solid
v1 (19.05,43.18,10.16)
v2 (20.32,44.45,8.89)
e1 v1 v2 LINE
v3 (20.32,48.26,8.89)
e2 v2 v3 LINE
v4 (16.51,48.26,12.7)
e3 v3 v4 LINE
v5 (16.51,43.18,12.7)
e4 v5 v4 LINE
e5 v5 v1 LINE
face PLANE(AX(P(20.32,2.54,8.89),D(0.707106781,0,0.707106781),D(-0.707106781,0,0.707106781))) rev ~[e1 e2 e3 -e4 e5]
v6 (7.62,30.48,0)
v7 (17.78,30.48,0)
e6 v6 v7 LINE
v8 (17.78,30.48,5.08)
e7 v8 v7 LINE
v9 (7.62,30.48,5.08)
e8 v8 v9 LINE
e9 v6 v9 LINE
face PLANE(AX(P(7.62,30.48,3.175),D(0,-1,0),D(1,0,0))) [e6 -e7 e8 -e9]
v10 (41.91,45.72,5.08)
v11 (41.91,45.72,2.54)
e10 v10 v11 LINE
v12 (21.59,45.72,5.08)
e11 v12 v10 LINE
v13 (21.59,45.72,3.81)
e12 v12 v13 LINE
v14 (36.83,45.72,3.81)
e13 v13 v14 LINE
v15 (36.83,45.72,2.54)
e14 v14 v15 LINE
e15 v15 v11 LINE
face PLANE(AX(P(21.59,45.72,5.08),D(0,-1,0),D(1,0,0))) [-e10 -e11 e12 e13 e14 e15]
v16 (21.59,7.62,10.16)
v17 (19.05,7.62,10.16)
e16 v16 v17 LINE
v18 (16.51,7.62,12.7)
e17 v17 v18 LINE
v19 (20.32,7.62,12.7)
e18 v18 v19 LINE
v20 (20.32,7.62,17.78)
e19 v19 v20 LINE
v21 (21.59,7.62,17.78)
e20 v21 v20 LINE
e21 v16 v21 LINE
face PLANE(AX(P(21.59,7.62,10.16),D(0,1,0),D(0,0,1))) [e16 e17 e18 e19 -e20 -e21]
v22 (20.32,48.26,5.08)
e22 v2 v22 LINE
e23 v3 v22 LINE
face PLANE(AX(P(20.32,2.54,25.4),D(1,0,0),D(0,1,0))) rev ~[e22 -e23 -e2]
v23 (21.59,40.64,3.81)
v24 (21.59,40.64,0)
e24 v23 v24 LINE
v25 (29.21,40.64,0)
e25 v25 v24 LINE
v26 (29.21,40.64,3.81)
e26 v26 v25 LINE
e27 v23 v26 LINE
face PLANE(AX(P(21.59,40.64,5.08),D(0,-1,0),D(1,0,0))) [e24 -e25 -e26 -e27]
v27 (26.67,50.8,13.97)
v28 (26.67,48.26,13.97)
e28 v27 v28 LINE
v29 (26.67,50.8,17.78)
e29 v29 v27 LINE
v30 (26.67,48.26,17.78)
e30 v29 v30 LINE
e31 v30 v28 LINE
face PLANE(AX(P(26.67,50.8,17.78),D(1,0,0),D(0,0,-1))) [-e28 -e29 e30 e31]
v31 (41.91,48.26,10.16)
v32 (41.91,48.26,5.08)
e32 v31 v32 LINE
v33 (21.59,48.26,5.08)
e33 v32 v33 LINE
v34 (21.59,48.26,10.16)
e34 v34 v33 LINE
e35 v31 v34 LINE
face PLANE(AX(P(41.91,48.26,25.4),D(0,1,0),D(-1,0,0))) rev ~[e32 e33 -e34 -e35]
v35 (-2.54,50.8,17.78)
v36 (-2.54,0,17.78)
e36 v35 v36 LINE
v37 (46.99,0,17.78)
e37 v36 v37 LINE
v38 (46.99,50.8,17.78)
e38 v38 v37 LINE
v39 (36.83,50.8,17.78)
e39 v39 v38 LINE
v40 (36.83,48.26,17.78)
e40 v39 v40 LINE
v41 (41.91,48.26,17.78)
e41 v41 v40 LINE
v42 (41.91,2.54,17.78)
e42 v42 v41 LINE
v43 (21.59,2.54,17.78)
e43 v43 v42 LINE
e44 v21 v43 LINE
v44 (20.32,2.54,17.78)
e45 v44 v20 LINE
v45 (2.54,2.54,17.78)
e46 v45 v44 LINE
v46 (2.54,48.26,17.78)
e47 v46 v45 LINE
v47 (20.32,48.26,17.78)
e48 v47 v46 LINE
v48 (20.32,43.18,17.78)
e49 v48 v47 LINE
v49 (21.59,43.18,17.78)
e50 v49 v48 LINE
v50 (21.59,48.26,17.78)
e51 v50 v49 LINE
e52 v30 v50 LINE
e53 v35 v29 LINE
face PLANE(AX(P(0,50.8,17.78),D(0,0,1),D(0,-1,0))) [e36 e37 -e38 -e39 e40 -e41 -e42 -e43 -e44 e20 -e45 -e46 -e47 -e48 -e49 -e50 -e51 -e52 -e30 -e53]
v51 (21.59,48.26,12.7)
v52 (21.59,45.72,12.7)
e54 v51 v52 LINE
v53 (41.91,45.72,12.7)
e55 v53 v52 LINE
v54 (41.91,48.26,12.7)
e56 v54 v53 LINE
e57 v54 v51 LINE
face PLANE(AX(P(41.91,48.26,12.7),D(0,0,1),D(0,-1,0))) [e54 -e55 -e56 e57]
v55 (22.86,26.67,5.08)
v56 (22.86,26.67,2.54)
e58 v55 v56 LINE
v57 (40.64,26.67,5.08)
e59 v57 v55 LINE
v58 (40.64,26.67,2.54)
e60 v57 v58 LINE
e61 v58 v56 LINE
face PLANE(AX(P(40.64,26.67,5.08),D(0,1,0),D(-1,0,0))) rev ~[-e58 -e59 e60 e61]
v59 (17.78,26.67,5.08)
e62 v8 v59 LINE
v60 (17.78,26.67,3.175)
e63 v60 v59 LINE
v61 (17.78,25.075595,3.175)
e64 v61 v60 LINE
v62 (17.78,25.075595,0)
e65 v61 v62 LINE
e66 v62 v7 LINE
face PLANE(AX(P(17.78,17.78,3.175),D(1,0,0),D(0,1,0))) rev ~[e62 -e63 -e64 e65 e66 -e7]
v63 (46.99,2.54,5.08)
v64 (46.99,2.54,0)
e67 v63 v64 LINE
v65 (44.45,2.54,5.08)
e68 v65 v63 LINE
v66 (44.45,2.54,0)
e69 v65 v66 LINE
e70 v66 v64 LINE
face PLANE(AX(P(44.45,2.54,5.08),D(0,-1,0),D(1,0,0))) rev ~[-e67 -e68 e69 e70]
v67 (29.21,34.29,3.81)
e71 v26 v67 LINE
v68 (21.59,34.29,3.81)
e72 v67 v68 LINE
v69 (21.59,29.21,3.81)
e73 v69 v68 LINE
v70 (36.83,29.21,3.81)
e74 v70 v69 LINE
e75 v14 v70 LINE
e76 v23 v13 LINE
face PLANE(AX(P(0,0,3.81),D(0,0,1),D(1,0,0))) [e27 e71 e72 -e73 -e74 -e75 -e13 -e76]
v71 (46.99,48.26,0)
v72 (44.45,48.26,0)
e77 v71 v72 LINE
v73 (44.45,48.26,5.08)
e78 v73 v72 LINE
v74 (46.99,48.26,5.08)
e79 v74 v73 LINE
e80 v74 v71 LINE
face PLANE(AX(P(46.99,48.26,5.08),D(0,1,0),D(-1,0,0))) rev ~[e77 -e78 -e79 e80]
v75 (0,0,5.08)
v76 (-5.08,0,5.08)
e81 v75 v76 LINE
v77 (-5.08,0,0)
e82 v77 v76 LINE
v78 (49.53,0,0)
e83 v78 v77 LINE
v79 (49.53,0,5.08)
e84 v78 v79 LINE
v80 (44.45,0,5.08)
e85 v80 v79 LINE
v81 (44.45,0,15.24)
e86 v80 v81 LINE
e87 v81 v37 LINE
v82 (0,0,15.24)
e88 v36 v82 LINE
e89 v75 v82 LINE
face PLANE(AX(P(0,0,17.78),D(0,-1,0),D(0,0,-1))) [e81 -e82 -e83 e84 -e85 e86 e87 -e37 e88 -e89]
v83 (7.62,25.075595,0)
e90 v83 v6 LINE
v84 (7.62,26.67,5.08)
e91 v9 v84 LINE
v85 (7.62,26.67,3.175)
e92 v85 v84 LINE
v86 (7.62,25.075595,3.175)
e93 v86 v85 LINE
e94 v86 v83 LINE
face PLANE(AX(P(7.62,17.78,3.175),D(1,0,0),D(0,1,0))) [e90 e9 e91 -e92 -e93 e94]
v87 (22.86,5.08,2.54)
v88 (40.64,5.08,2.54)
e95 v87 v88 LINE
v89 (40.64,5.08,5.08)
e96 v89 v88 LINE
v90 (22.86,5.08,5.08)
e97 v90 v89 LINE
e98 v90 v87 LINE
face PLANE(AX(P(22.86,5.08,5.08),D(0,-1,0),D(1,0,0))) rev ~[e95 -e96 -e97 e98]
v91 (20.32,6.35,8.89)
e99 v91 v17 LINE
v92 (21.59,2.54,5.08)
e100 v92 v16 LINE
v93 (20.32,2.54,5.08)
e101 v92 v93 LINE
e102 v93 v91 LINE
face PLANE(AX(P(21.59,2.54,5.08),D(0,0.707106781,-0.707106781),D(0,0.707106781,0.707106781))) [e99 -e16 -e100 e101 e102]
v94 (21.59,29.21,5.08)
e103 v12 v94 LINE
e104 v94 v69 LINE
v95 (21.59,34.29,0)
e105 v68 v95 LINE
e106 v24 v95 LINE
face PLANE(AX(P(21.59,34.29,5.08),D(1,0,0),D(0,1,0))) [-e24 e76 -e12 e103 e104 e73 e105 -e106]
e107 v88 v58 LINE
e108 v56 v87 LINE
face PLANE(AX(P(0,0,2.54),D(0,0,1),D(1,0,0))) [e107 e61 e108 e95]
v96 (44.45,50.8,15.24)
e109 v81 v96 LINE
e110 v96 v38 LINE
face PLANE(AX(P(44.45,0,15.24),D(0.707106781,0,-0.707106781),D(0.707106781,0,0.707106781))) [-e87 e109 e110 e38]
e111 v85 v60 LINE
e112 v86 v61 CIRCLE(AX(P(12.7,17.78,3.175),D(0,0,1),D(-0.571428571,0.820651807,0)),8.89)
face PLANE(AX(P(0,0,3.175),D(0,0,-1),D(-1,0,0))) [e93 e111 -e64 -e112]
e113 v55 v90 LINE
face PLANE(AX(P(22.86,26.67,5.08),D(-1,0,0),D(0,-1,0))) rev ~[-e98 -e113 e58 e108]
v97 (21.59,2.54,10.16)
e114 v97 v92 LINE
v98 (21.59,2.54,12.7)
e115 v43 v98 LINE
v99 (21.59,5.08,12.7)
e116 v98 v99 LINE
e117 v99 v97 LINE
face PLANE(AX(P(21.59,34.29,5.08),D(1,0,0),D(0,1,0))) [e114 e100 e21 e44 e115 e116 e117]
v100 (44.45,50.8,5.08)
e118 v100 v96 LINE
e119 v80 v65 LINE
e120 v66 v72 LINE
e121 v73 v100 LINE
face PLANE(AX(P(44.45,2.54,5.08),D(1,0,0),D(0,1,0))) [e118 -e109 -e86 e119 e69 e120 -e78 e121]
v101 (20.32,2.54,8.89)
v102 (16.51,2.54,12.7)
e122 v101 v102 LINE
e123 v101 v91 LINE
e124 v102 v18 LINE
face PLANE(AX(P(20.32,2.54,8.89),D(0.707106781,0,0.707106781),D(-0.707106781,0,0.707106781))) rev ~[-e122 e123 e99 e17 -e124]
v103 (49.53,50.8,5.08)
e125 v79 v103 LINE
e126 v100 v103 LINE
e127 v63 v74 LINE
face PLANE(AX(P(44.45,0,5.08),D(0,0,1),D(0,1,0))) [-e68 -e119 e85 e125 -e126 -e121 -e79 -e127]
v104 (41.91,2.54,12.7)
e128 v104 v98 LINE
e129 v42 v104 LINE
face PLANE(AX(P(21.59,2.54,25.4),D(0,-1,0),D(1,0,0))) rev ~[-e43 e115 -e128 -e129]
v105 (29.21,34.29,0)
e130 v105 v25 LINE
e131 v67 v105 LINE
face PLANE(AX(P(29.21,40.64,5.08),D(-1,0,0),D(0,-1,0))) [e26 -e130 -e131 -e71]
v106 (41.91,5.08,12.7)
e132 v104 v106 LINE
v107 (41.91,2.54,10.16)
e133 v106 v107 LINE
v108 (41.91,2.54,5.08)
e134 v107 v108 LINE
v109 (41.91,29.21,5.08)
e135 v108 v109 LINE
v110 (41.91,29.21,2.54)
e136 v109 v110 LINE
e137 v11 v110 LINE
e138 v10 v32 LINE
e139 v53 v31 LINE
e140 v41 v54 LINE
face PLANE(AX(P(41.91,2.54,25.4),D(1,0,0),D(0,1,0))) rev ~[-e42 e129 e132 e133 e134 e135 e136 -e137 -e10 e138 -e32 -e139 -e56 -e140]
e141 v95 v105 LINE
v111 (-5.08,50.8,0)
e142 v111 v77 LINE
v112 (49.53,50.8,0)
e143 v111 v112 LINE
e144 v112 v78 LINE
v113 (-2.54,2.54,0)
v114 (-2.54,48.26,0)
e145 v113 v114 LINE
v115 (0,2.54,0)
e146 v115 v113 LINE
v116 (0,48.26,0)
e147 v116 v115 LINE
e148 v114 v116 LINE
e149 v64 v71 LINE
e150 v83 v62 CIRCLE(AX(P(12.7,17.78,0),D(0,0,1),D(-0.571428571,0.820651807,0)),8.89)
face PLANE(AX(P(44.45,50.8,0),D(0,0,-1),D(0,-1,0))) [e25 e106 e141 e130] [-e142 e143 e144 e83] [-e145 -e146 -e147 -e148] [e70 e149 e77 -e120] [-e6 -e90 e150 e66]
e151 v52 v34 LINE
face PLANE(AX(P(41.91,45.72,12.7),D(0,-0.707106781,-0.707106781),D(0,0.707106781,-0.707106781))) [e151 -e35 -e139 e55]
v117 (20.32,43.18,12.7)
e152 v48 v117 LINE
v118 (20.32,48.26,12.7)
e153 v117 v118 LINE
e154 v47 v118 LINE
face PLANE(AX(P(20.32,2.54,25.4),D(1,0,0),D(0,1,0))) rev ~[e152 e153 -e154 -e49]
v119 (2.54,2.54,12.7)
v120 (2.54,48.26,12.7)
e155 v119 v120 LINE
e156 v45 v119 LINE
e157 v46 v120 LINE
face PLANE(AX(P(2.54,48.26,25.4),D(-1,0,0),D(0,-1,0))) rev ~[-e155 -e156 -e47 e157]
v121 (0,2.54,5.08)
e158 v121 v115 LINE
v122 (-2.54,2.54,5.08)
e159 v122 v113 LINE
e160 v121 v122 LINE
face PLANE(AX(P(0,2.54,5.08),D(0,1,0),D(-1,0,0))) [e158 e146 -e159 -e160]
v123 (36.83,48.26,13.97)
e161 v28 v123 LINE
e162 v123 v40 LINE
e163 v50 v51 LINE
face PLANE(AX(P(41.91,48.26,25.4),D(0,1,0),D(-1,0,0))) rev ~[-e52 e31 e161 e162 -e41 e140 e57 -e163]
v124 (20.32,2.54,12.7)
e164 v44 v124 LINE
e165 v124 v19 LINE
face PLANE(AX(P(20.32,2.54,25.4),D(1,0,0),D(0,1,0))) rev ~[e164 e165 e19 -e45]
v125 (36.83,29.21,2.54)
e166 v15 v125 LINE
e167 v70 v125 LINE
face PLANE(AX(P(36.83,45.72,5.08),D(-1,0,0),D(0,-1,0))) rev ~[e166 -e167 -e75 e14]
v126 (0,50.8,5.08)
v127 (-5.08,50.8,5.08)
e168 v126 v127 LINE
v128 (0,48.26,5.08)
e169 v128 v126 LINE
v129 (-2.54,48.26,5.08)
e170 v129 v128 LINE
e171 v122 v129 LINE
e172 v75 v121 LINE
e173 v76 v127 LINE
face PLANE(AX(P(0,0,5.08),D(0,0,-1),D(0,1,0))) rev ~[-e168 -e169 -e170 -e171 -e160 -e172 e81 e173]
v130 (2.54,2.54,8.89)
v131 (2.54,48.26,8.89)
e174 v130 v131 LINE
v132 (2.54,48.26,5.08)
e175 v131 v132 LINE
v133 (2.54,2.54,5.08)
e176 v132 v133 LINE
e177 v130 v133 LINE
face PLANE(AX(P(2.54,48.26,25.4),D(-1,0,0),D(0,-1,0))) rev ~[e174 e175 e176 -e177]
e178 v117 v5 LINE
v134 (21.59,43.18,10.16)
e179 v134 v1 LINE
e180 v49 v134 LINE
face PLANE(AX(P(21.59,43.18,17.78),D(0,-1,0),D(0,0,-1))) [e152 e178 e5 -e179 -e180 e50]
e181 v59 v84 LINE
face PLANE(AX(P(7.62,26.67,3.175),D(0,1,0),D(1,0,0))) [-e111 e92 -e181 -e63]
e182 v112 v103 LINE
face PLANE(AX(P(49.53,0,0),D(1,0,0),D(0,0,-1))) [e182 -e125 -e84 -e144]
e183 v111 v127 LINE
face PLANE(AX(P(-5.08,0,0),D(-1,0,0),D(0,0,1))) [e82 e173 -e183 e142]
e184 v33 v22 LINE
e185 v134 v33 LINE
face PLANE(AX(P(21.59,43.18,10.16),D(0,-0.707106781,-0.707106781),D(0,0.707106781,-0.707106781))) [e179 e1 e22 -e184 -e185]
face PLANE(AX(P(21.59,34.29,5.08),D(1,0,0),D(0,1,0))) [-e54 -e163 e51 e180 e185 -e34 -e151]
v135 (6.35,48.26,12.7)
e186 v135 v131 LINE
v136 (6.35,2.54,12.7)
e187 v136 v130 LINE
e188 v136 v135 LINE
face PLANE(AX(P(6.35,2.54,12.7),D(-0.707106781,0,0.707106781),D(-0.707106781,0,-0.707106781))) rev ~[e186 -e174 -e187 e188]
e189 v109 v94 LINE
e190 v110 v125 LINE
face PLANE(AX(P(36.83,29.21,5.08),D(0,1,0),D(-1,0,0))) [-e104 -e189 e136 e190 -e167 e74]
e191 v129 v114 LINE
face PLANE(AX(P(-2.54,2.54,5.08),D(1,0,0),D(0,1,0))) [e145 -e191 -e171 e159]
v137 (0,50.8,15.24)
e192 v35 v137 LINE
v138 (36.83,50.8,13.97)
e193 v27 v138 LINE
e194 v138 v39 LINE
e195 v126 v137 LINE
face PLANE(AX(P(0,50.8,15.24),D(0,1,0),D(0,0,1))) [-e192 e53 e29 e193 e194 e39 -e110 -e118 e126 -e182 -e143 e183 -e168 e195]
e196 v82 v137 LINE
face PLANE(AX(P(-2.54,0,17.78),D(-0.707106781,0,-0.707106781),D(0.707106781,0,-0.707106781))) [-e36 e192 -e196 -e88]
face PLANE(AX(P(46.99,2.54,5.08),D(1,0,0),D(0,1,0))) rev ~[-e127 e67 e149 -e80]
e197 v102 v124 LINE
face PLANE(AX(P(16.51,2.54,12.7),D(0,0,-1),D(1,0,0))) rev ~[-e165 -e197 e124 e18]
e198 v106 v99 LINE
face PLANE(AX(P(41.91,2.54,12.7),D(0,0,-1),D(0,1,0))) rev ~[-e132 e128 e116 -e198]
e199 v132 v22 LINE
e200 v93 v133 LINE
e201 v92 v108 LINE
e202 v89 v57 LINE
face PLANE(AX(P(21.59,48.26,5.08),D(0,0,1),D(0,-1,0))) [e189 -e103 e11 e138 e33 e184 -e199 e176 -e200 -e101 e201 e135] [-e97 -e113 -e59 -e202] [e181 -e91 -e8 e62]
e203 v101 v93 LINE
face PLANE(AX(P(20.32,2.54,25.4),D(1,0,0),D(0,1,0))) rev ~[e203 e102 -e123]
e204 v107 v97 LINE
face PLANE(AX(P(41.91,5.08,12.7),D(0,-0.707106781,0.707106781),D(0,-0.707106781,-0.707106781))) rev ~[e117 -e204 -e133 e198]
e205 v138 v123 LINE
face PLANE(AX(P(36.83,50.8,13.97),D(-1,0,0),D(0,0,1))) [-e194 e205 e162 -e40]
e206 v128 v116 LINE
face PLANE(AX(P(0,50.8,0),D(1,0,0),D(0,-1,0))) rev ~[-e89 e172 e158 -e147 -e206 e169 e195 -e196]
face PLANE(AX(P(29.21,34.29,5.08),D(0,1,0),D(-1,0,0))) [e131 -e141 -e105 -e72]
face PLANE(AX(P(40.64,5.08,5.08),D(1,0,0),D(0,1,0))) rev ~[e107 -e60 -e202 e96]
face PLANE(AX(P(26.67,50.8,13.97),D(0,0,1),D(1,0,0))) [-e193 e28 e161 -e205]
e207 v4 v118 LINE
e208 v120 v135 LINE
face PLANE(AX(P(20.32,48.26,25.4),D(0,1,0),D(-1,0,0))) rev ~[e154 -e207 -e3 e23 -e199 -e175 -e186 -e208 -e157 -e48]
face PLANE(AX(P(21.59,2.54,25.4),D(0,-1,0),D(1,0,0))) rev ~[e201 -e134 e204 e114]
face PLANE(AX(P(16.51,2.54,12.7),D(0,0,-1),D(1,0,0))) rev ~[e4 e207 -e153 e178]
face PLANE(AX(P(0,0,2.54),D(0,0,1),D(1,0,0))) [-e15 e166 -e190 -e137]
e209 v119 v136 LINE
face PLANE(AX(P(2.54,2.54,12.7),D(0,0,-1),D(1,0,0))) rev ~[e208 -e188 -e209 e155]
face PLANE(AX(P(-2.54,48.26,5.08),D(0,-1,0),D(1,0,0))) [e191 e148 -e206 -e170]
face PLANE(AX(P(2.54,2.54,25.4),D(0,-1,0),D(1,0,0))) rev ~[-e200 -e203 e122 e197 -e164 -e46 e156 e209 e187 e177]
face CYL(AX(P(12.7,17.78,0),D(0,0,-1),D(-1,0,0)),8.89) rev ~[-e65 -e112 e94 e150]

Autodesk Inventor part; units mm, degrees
ref_plane "YZ Plane" through (0, 0, 0) normal (1, 0, 0) x (0, 1, 0)
ref_plane "XZ Plane" through (0, 0, 0) normal (0, 1, 0) x (-1, 0, 0)
ref_plane "XY Plane" through (0, 0, 0) normal (0, 0, 1) x (1, 0, 0)
sketch "Sketch2" plane through (0, 0, 0) normal (0, 0, 1) x (1, 0, 0)
  line L0 (0, 0) -> (44.45, 0)
  line L1 (44.45, 0) -> (44.45, 50.8)
  line L2 (44.45, 50.8) -> (0, 50.8)
  line L3 (0, 50.8) -> (0, 0)
  dimension "d0" = 50.8
  dimension "d1" = 44.45
extrude "Extrusion1" add sketch "Sketch2" along normal blind 25.4
sketch "Sketch3" plane through (0, 0, 25.4) normal (0, 0, 1) x (1, 0, 0)
  line L0 (2.54, 2.54) -> (20.32, 2.54)
  line L1 (20.32, 2.54) -> (20.32, 48.26)
  line L2 (20.32, 48.26) -> (2.54, 48.26)
  line L3 (2.54, 48.26) -> (2.54, 2.54)
  line L4 (0, 0) -> (44.45, 0) projected
  line L5 (0, 50.8) -> (0, 0) projected
  line L6 (44.45, 50.8) -> (0, 50.8) projected
  line L7 (21.59, 2.54) -> (41.91, 2.54)
  line L8 (41.91, 2.54) -> (41.91, 48.26)
  line L9 (41.91, 48.26) -> (21.59, 48.26)
  line L10 (21.59, 48.26) -> (21.59, 2.54)
  line L11 (44.45, 0) -> (44.45, 50.8) projected
  dimension "d4" = 2.54
  dimension "d5" = 2.54
  dimension "d6" = 2.54
  dimension "d7" = 20.32
  dimension "d8" = 2.54
  dimension "d9" = 2.54
  dimension "d10" = 2.54
  dimension "d11" = 22.86
extrude "Extrusion2" cut sketch "Sketch3" against normal blind 20.32 contours L3 L2 L1 L0 | L10 L9 L8 L7
sketch "Sketch4" plane through (0, 0, 0) normal (0, 0, -1) x (-1, 0, 0)
  circle A0 centre (-12.7, 17.78) radius 8.89
  line L0 (0, 50.8) -> (0, 0) projected
  line L1 (0, 0) -> (-44.45, 0) projected
  dimension "d14" = 17.78
  dimension "d17" = 12.7
  dimension "d18" = 17.78
extrude "Extrusion3" cut sketch "Sketch4" against normal blind 3.175
sketch "Sketch5" plane through (0, 0, 0) normal (0, 0, -1) x (-1, 0, 0)
  point P0 (0, 0)
sketch "Sketch6" plane through (12.7, 17.78, 3.175) normal (0, 0, -1) x (-1, 0, 0)
  circle A0 centre (0, 0) radius 8.89 projected
  line L0 (0, 0) -> (-5.08, 0)
  line L1 (-5.08, 0) -> (-5.08, 12.7)
  line L2 (-5.08, 12.7) -> (0, 12.7)
  line L3 (0, 12.7) -> (0, 0)
  line L4 (0, 0) -> (5.08, 0)
  line L5 (5.08, 0) -> (5.08, 12.7)
  line L6 (5.08, 12.7) -> (0, 12.7)
  line L7 (0, 12.7) -> (0, 0)
  point P0 (12.7, -17.78)
  dimension "d21" = 12.7
  dimension "d22" = 5.08
  dimension "d23" = 5.08
extrude "Extrusion4" cut sketch "Sketch6" along normal blind 5.08 contours L5 L4 L3 A0 | A0 L3 L6 L5 | L1 L2 L3 A0 | A0 L3 L0 L1
sketch "Sketch7" plane through (0, 0, 3.175) normal (0, 0, -1) x (-1, 0, 0)
  point P0 (0, 0)
sketch "Sketch8" plane through (0, 0, 3.175) normal (0, 0, -1) x (-1, 0, 0)
  line L0 (-7.62, 25.0756) -> (-7.62, 30.48) projected
  line L1 (-17.78, 30.48) -> (-7.62, 30.48)
  line L2 (-7.62, 30.48) -> (-7.62, 26.67)
  line L3 (-7.62, 26.67) -> (-17.78, 26.67)
  line L4 (-17.78, 26.67) -> (-17.78, 30.48)
  point P0 (0, 0)
  dimension "d26" = 3.81
extrude "Extrusion5" cut sketch "Sketch8" against normal blind 2.54
sketch "Sketch14" plane through (41.91, 2.54, 25.4) normal (-1, 0, 0) x (0, 0, 1)
  line L0 (0, 0) -> (-20.32, 0) projected
  line L1 (0, 45.72) -> (-20.32, 45.72) projected
  line L2 (-12.7, 45.72) -> (-12.7, 43.18)
  line L3 (-12.7, 43.18) -> (-15.24, 45.72)
  line L4 (-12.7, 0) -> (-12.7, 2.54)
  line L5 (-12.7, 2.54) -> (-15.24, 0)
  point P0 (-25.4, -2.54)
  dimension "d52" = 45
  dimension "d53" = 2.54
  dimension "d54" = 2.54
  dimension "d55" = 45
  dimension "d56" = 5.08
  dimension "d57" = 5.08
extrude "Arduino Holder" add sketch "Sketch14" along normal blind 20.32
sketch "Sketch16" plane through (2.54, 2.54, 25.4) normal (0, 1, 0) x (1, 0, 0)
  line L0 (0, 12.7) -> (3.81, 12.7)
  line L1 (3.81, 12.7) -> (0, 16.51)
  line L2 (0, 0) -> (0, 20.32) projected
  line L3 (17.78, 5.08) -> (17.78, 20.32)
  line L4 (17.78, 16.51) -> (13.97, 12.7)
  line L5 (13.97, 12.7) -> (17.78, 12.7)
  line L6 (17.78, 20.32) -> (0, 20.32) projected
  point P0 (-2.54, 25.4)
  dimension "d60" = 45
  dimension "d61" = 3.81
  dimension "d62" = 3.81
  dimension "d64" = 45
  dimension "d144" = 7.62
  dimension "d145" = 7.62
extrude "Bluetooth Holder" add sketch "Sketch16" along normal blind 45.72
sketch "Sketch17" plane through (0, 0, 0) normal (-1, 0, 0) x (0, 0, 1)
  line L0 (0, 50.8) -> (25.4, 50.8) projected
  line L1 (0, 0) -> (5.08, 0)
  line L2 (5.08, 0) -> (5.08, 50.8)
  line L3 (5.08, 50.8) -> (0, 50.8)
  line L4 (0, 50.8) -> (0, 0)
  dimension "d68" = 5.08
extrude "Extrusion13" add sketch "Sketch17" along normal blind 5.08
sketch "Sketch18" plane through (0, 0, 5.08) normal (0, 0, 1) x (1, 0, 0)
  line L0 (0, 50.8) -> (0, 0) projected
  line L1 (0, 2.54) -> (-2.54, 2.54)
  line L2 (-2.54, 2.54) -> (-2.54, 48.26)
  line L3 (-2.54, 48.26) -> (0, 48.26)
  line L4 (0, 48.26) -> (0, 2.54)
  line L5 (0, 50.8) -> (-5.08, 50.8) projected
  line L6 (0, 0) -> (-5.08, 0) projected
  dimension "d71" = 2.54
  dimension "d72" = 2.54
  dimension "d73" = 2.54
extrude "Extrusion14" cut sketch "Sketch18" against normal blind 5.08
sketch "Sketch19" plane through (44.45, 0, 0) normal (1, 0, 0) x (0, 0, -1)
  line L0 (0, 50.8) -> (-25.4, 50.8) projected
  line L1 (0, 0) -> (-5.08, 0)
  line L2 (-5.08, 0) -> (-5.08, 50.8)
  line L3 (-5.08, 50.8) -> (0, 50.8)
  line L4 (0, 50.8) -> (0, 0)
  dimension "d76" = 5.08
extrude "Extrusion15" add sketch "Sketch19" along normal blind 5.08
sketch "Sketch21" plane through (44.45, 0, 5.08) normal (0, 0, 1) x (1, 0, 0)
  line L0 (0, 0) -> (0, 50.8) projected
  line L1 (0, 2.54) -> (2.54, 2.54)
  line L2 (2.54, 2.54) -> (2.54, 48.26)
  line L3 (2.54, 48.26) -> (0, 48.26)
  line L4 (0, 48.26) -> (0, 2.54)
  line L5 (0, 50.8) -> (5.08, 50.8) projected
  line L6 (0, 0) -> (5.08, 0) projected
  line L7 (5.08, 50.8) -> (5.08, 0) projected
  point P0 (-44.45, 0)
  dimension "d79" = 2.54
  dimension "d81" = 2.54
  dimension "d82" = 2.54
extrude "Extrusion16" cut sketch "Sketch21" against normal blind 5.08 contours L0 L3 L2 L1
sketch "Sketch28" plane through (0, 0, 25.4) normal (-1, 0, 0) x (0, 0, 1)
  line L0 (-20.32, 0) -> (0, 0) projected
  line L1 (0, 50.8) -> (-7.62, 50.8)
  line L2 (-7.62, 50.8) -> (-7.62, 0)
  line L3 (-7.62, 0) -> (0, 0)
  line L4 (0, 0) -> (0, 50.8)
  point P0 (-25.4, 0)
  dimension "d141" = 7.62
extrude "Height Reduce" cut sketch "Sketch28" against normal blind 50.8
sketch "Sketch30" plane through (0, 0, 5.08) normal (0, 0, 1) x (1, 0, 0)
  line L0 (22.86, 5.08) -> (40.64, 5.08)
  line L1 (40.64, 5.08) -> (40.64, 26.67)
  line L2 (40.64, 26.67) -> (22.86, 26.67)
  line L3 (22.86, 26.67) -> (22.86, 5.08)
  line L4 (21.59, 2.54) -> (21.59, 48.26) projected
  line L5 (41.91, 48.26) -> (41.91, 2.54) projected
  line L6 (41.91, 2.54) -> (21.59, 2.54) projected
  point P0 (0, 0)
  point P1 (24.13, 12.7)
  point P2 (44.45, 30.48)
  dimension "d146" = 1.27
  dimension "d147" = 1.27
  dimension "d148" = 21.59
  dimension "d149" = 2.54
  dimension "d150" = 17.78
extrude "Extrusion27" cut sketch "Sketch30" against normal blind 2.54
sketch "Sketch31" plane through (0, 0, 5.08) normal (0, 0, 1) x (1, 0, 0)
  line L0 (21.59, 2.54) -> (21.59, 48.26) projected
  line L1 (41.91, 48.26) -> (41.91, 2.54) projected
  line L2 (21.59, 45.72) -> (41.91, 45.72)
  line L3 (41.91, 45.72) -> (41.91, 29.21)
  line L4 (41.91, 29.21) -> (21.59, 29.21)
  line L5 (21.59, 29.21) -> (21.59, 45.72)
  line L6 (21.59, 48.26) -> (41.91, 48.26) projected
  line L7 (21.59, 40.64) -> (29.21, 40.64)
  line L8 (29.21, 40.64) -> (29.21, 34.29)
  line L9 (29.21, 34.29) -> (21.59, 34.29)
  line L10 (21.59, 34.29) -> (21.59, 40.64)
  line L11 (41.91, 45.72) -> (36.83, 45.72)
  line L12 (36.83, 45.72) -> (36.83, 29.21)
  line L13 (36.83, 29.21) -> (41.91, 29.21)
  line L14 (41.91, 29.21) -> (41.91, 45.72)
  point P0 (0, 0)
  point P1 (24.13, 33.02)
  dimension "d157" = 2.54
  dimension "d158" = 16.51
  dimension "d159" = 5.08
  dimension "d160" = 6.35
  dimension "d161" = 7.62
  dimension "d162" = 5.08
  dimension "d163" = 5.08
extrude "Extrusion28" cut sketch "Sketch31" against normal blind 25.4 contours L0 L7 L8 L9
extrude "Extrusion29" cut sketch "Sketch31" against normal blind 2.54 contours L12 L2 L1 L4
extrude "Extrusion30" cut sketch "Sketch31" against normal blind 1.27 contours L0 L9 L8 L7 L2 L12 L4
sketch "Sketch33" plane through (44.45, 2.54, 0) normal (1, 0, 0) x (0, 0, -1)
  line L0 (-5.08, 48.26) -> (-17.78, 48.26) projected
  line L1 (-17.78, -2.54) -> (-15.24, -2.54)
  line L2 (-15.24, -2.54) -> (-15.24, 48.26)
  line L3 (-15.24, 48.26) -> (-17.78, 48.26)
  line L4 (-17.78, 48.26) -> (-17.78, -2.54)
  point P0 (0, -2.54)
  dimension "d194" = 2.54
extrude "Extrusion33" add sketch "Sketch33" along normal blind 2.54
sketch "Sketch35" plane through (0, 2.54, 0) normal (-1, 0, 0) x (0, 0, 1)
  line L0 (5.08, 48.26) -> (17.78, 48.26) projected
  line L1 (17.78, -2.54) -> (15.24, -2.54)
  line L2 (15.24, -2.54) -> (15.24, 48.26)
  line L3 (15.24, 48.26) -> (17.78, 48.26)
  line L4 (17.78, 48.26) -> (17.78, -2.54)
  point P0 (0, -2.54)
  dimension "d197" = 2.54
extrude "Extrusion34" add sketch "Sketch35" along normal blind 2.54
sketch "Sketch36" plane through (-5.08, 0, 5.08) normal (0, -1, 0) x (1, 0, 0)
  line L0 (2.54, 12.7) -> (5.08, 10.16)
  line L1 (5.08, 10.16) -> (2.54, 10.16)
  line L2 (5.08, 10.16) -> (2.54, 10.16) projected
  line L3 (2.54, 10.16) -> (2.54, 12.7)
  line L4 (49.53, 10.16) -> (52.07, 12.7)
  line L5 (52.07, 12.7) -> (52.07, 10.16)
  line L6 (52.07, 10.16) -> (49.53, 10.16)
  point P0 (5.08, -5.08)
extrude "Extrusion35" cut sketch "Sketch36" against normal blind 50.8
sketch "Sketch37" plane through (-5.08, 50.8, 5.08) normal (0, 1, 0) x (1, 0, 0)
  line L0 (52.07, -12.7) -> (2.54, -12.7) projected
  line L1 (41.91, -12.7) -> (31.75, -12.7)
  line L2 (31.75, -12.7) -> (31.75, -8.89)
  line L3 (31.75, -8.89) -> (41.91, -8.89)
  line L4 (41.91, -8.89) -> (41.91, -12.7)
  line L5 (26.67, -12.7) -> (26.67, -7.62) projected
  line L6 (46.99, -12.7) -> (46.99, -7.62) projected
  point P0 (5.08, 5.08)
  dimension "d202" = 3.81
  dimension "d203" = 10.16
  dimension "d204" = 5.08
  dimension "d205" = 5.08
extrude "Extrusion36" cut sketch "Sketch37" against normal blind 2.54
sketch "Sketch39" plane through (21.59, 2.54, 12.7) normal (1, 0, 0) x (0, 0, -1)
  line L0 (7.62, 0) -> (2.54, 5.08)
  line L1 (2.54, 5.08) -> (-5.08, 5.08)
  line L2 (-5.08, 45.72) -> (-5.08, 0) projected
  line L3 (-5.08, 5.08) -> (-5.08, 40.64)
  line L4 (-5.08, 40.64) -> (2.54, 40.64)
  line L5 (2.54, 40.64) -> (7.62, 45.72)
  line L6 (7.62, 45.72) -> (7.62, 0)
  line L7 (7.62, 2.54) -> (10.16, 2.54) projected
  point P0 (12.7, -2.54)
  dimension "d224" = 45
  dimension "d225" = 45
  dimension "d226" = 5.08
extrude "Extrusion38" cut sketch "Sketch39" against normal blind 5.08
properties part number "nano_enclosure_v3_1"
